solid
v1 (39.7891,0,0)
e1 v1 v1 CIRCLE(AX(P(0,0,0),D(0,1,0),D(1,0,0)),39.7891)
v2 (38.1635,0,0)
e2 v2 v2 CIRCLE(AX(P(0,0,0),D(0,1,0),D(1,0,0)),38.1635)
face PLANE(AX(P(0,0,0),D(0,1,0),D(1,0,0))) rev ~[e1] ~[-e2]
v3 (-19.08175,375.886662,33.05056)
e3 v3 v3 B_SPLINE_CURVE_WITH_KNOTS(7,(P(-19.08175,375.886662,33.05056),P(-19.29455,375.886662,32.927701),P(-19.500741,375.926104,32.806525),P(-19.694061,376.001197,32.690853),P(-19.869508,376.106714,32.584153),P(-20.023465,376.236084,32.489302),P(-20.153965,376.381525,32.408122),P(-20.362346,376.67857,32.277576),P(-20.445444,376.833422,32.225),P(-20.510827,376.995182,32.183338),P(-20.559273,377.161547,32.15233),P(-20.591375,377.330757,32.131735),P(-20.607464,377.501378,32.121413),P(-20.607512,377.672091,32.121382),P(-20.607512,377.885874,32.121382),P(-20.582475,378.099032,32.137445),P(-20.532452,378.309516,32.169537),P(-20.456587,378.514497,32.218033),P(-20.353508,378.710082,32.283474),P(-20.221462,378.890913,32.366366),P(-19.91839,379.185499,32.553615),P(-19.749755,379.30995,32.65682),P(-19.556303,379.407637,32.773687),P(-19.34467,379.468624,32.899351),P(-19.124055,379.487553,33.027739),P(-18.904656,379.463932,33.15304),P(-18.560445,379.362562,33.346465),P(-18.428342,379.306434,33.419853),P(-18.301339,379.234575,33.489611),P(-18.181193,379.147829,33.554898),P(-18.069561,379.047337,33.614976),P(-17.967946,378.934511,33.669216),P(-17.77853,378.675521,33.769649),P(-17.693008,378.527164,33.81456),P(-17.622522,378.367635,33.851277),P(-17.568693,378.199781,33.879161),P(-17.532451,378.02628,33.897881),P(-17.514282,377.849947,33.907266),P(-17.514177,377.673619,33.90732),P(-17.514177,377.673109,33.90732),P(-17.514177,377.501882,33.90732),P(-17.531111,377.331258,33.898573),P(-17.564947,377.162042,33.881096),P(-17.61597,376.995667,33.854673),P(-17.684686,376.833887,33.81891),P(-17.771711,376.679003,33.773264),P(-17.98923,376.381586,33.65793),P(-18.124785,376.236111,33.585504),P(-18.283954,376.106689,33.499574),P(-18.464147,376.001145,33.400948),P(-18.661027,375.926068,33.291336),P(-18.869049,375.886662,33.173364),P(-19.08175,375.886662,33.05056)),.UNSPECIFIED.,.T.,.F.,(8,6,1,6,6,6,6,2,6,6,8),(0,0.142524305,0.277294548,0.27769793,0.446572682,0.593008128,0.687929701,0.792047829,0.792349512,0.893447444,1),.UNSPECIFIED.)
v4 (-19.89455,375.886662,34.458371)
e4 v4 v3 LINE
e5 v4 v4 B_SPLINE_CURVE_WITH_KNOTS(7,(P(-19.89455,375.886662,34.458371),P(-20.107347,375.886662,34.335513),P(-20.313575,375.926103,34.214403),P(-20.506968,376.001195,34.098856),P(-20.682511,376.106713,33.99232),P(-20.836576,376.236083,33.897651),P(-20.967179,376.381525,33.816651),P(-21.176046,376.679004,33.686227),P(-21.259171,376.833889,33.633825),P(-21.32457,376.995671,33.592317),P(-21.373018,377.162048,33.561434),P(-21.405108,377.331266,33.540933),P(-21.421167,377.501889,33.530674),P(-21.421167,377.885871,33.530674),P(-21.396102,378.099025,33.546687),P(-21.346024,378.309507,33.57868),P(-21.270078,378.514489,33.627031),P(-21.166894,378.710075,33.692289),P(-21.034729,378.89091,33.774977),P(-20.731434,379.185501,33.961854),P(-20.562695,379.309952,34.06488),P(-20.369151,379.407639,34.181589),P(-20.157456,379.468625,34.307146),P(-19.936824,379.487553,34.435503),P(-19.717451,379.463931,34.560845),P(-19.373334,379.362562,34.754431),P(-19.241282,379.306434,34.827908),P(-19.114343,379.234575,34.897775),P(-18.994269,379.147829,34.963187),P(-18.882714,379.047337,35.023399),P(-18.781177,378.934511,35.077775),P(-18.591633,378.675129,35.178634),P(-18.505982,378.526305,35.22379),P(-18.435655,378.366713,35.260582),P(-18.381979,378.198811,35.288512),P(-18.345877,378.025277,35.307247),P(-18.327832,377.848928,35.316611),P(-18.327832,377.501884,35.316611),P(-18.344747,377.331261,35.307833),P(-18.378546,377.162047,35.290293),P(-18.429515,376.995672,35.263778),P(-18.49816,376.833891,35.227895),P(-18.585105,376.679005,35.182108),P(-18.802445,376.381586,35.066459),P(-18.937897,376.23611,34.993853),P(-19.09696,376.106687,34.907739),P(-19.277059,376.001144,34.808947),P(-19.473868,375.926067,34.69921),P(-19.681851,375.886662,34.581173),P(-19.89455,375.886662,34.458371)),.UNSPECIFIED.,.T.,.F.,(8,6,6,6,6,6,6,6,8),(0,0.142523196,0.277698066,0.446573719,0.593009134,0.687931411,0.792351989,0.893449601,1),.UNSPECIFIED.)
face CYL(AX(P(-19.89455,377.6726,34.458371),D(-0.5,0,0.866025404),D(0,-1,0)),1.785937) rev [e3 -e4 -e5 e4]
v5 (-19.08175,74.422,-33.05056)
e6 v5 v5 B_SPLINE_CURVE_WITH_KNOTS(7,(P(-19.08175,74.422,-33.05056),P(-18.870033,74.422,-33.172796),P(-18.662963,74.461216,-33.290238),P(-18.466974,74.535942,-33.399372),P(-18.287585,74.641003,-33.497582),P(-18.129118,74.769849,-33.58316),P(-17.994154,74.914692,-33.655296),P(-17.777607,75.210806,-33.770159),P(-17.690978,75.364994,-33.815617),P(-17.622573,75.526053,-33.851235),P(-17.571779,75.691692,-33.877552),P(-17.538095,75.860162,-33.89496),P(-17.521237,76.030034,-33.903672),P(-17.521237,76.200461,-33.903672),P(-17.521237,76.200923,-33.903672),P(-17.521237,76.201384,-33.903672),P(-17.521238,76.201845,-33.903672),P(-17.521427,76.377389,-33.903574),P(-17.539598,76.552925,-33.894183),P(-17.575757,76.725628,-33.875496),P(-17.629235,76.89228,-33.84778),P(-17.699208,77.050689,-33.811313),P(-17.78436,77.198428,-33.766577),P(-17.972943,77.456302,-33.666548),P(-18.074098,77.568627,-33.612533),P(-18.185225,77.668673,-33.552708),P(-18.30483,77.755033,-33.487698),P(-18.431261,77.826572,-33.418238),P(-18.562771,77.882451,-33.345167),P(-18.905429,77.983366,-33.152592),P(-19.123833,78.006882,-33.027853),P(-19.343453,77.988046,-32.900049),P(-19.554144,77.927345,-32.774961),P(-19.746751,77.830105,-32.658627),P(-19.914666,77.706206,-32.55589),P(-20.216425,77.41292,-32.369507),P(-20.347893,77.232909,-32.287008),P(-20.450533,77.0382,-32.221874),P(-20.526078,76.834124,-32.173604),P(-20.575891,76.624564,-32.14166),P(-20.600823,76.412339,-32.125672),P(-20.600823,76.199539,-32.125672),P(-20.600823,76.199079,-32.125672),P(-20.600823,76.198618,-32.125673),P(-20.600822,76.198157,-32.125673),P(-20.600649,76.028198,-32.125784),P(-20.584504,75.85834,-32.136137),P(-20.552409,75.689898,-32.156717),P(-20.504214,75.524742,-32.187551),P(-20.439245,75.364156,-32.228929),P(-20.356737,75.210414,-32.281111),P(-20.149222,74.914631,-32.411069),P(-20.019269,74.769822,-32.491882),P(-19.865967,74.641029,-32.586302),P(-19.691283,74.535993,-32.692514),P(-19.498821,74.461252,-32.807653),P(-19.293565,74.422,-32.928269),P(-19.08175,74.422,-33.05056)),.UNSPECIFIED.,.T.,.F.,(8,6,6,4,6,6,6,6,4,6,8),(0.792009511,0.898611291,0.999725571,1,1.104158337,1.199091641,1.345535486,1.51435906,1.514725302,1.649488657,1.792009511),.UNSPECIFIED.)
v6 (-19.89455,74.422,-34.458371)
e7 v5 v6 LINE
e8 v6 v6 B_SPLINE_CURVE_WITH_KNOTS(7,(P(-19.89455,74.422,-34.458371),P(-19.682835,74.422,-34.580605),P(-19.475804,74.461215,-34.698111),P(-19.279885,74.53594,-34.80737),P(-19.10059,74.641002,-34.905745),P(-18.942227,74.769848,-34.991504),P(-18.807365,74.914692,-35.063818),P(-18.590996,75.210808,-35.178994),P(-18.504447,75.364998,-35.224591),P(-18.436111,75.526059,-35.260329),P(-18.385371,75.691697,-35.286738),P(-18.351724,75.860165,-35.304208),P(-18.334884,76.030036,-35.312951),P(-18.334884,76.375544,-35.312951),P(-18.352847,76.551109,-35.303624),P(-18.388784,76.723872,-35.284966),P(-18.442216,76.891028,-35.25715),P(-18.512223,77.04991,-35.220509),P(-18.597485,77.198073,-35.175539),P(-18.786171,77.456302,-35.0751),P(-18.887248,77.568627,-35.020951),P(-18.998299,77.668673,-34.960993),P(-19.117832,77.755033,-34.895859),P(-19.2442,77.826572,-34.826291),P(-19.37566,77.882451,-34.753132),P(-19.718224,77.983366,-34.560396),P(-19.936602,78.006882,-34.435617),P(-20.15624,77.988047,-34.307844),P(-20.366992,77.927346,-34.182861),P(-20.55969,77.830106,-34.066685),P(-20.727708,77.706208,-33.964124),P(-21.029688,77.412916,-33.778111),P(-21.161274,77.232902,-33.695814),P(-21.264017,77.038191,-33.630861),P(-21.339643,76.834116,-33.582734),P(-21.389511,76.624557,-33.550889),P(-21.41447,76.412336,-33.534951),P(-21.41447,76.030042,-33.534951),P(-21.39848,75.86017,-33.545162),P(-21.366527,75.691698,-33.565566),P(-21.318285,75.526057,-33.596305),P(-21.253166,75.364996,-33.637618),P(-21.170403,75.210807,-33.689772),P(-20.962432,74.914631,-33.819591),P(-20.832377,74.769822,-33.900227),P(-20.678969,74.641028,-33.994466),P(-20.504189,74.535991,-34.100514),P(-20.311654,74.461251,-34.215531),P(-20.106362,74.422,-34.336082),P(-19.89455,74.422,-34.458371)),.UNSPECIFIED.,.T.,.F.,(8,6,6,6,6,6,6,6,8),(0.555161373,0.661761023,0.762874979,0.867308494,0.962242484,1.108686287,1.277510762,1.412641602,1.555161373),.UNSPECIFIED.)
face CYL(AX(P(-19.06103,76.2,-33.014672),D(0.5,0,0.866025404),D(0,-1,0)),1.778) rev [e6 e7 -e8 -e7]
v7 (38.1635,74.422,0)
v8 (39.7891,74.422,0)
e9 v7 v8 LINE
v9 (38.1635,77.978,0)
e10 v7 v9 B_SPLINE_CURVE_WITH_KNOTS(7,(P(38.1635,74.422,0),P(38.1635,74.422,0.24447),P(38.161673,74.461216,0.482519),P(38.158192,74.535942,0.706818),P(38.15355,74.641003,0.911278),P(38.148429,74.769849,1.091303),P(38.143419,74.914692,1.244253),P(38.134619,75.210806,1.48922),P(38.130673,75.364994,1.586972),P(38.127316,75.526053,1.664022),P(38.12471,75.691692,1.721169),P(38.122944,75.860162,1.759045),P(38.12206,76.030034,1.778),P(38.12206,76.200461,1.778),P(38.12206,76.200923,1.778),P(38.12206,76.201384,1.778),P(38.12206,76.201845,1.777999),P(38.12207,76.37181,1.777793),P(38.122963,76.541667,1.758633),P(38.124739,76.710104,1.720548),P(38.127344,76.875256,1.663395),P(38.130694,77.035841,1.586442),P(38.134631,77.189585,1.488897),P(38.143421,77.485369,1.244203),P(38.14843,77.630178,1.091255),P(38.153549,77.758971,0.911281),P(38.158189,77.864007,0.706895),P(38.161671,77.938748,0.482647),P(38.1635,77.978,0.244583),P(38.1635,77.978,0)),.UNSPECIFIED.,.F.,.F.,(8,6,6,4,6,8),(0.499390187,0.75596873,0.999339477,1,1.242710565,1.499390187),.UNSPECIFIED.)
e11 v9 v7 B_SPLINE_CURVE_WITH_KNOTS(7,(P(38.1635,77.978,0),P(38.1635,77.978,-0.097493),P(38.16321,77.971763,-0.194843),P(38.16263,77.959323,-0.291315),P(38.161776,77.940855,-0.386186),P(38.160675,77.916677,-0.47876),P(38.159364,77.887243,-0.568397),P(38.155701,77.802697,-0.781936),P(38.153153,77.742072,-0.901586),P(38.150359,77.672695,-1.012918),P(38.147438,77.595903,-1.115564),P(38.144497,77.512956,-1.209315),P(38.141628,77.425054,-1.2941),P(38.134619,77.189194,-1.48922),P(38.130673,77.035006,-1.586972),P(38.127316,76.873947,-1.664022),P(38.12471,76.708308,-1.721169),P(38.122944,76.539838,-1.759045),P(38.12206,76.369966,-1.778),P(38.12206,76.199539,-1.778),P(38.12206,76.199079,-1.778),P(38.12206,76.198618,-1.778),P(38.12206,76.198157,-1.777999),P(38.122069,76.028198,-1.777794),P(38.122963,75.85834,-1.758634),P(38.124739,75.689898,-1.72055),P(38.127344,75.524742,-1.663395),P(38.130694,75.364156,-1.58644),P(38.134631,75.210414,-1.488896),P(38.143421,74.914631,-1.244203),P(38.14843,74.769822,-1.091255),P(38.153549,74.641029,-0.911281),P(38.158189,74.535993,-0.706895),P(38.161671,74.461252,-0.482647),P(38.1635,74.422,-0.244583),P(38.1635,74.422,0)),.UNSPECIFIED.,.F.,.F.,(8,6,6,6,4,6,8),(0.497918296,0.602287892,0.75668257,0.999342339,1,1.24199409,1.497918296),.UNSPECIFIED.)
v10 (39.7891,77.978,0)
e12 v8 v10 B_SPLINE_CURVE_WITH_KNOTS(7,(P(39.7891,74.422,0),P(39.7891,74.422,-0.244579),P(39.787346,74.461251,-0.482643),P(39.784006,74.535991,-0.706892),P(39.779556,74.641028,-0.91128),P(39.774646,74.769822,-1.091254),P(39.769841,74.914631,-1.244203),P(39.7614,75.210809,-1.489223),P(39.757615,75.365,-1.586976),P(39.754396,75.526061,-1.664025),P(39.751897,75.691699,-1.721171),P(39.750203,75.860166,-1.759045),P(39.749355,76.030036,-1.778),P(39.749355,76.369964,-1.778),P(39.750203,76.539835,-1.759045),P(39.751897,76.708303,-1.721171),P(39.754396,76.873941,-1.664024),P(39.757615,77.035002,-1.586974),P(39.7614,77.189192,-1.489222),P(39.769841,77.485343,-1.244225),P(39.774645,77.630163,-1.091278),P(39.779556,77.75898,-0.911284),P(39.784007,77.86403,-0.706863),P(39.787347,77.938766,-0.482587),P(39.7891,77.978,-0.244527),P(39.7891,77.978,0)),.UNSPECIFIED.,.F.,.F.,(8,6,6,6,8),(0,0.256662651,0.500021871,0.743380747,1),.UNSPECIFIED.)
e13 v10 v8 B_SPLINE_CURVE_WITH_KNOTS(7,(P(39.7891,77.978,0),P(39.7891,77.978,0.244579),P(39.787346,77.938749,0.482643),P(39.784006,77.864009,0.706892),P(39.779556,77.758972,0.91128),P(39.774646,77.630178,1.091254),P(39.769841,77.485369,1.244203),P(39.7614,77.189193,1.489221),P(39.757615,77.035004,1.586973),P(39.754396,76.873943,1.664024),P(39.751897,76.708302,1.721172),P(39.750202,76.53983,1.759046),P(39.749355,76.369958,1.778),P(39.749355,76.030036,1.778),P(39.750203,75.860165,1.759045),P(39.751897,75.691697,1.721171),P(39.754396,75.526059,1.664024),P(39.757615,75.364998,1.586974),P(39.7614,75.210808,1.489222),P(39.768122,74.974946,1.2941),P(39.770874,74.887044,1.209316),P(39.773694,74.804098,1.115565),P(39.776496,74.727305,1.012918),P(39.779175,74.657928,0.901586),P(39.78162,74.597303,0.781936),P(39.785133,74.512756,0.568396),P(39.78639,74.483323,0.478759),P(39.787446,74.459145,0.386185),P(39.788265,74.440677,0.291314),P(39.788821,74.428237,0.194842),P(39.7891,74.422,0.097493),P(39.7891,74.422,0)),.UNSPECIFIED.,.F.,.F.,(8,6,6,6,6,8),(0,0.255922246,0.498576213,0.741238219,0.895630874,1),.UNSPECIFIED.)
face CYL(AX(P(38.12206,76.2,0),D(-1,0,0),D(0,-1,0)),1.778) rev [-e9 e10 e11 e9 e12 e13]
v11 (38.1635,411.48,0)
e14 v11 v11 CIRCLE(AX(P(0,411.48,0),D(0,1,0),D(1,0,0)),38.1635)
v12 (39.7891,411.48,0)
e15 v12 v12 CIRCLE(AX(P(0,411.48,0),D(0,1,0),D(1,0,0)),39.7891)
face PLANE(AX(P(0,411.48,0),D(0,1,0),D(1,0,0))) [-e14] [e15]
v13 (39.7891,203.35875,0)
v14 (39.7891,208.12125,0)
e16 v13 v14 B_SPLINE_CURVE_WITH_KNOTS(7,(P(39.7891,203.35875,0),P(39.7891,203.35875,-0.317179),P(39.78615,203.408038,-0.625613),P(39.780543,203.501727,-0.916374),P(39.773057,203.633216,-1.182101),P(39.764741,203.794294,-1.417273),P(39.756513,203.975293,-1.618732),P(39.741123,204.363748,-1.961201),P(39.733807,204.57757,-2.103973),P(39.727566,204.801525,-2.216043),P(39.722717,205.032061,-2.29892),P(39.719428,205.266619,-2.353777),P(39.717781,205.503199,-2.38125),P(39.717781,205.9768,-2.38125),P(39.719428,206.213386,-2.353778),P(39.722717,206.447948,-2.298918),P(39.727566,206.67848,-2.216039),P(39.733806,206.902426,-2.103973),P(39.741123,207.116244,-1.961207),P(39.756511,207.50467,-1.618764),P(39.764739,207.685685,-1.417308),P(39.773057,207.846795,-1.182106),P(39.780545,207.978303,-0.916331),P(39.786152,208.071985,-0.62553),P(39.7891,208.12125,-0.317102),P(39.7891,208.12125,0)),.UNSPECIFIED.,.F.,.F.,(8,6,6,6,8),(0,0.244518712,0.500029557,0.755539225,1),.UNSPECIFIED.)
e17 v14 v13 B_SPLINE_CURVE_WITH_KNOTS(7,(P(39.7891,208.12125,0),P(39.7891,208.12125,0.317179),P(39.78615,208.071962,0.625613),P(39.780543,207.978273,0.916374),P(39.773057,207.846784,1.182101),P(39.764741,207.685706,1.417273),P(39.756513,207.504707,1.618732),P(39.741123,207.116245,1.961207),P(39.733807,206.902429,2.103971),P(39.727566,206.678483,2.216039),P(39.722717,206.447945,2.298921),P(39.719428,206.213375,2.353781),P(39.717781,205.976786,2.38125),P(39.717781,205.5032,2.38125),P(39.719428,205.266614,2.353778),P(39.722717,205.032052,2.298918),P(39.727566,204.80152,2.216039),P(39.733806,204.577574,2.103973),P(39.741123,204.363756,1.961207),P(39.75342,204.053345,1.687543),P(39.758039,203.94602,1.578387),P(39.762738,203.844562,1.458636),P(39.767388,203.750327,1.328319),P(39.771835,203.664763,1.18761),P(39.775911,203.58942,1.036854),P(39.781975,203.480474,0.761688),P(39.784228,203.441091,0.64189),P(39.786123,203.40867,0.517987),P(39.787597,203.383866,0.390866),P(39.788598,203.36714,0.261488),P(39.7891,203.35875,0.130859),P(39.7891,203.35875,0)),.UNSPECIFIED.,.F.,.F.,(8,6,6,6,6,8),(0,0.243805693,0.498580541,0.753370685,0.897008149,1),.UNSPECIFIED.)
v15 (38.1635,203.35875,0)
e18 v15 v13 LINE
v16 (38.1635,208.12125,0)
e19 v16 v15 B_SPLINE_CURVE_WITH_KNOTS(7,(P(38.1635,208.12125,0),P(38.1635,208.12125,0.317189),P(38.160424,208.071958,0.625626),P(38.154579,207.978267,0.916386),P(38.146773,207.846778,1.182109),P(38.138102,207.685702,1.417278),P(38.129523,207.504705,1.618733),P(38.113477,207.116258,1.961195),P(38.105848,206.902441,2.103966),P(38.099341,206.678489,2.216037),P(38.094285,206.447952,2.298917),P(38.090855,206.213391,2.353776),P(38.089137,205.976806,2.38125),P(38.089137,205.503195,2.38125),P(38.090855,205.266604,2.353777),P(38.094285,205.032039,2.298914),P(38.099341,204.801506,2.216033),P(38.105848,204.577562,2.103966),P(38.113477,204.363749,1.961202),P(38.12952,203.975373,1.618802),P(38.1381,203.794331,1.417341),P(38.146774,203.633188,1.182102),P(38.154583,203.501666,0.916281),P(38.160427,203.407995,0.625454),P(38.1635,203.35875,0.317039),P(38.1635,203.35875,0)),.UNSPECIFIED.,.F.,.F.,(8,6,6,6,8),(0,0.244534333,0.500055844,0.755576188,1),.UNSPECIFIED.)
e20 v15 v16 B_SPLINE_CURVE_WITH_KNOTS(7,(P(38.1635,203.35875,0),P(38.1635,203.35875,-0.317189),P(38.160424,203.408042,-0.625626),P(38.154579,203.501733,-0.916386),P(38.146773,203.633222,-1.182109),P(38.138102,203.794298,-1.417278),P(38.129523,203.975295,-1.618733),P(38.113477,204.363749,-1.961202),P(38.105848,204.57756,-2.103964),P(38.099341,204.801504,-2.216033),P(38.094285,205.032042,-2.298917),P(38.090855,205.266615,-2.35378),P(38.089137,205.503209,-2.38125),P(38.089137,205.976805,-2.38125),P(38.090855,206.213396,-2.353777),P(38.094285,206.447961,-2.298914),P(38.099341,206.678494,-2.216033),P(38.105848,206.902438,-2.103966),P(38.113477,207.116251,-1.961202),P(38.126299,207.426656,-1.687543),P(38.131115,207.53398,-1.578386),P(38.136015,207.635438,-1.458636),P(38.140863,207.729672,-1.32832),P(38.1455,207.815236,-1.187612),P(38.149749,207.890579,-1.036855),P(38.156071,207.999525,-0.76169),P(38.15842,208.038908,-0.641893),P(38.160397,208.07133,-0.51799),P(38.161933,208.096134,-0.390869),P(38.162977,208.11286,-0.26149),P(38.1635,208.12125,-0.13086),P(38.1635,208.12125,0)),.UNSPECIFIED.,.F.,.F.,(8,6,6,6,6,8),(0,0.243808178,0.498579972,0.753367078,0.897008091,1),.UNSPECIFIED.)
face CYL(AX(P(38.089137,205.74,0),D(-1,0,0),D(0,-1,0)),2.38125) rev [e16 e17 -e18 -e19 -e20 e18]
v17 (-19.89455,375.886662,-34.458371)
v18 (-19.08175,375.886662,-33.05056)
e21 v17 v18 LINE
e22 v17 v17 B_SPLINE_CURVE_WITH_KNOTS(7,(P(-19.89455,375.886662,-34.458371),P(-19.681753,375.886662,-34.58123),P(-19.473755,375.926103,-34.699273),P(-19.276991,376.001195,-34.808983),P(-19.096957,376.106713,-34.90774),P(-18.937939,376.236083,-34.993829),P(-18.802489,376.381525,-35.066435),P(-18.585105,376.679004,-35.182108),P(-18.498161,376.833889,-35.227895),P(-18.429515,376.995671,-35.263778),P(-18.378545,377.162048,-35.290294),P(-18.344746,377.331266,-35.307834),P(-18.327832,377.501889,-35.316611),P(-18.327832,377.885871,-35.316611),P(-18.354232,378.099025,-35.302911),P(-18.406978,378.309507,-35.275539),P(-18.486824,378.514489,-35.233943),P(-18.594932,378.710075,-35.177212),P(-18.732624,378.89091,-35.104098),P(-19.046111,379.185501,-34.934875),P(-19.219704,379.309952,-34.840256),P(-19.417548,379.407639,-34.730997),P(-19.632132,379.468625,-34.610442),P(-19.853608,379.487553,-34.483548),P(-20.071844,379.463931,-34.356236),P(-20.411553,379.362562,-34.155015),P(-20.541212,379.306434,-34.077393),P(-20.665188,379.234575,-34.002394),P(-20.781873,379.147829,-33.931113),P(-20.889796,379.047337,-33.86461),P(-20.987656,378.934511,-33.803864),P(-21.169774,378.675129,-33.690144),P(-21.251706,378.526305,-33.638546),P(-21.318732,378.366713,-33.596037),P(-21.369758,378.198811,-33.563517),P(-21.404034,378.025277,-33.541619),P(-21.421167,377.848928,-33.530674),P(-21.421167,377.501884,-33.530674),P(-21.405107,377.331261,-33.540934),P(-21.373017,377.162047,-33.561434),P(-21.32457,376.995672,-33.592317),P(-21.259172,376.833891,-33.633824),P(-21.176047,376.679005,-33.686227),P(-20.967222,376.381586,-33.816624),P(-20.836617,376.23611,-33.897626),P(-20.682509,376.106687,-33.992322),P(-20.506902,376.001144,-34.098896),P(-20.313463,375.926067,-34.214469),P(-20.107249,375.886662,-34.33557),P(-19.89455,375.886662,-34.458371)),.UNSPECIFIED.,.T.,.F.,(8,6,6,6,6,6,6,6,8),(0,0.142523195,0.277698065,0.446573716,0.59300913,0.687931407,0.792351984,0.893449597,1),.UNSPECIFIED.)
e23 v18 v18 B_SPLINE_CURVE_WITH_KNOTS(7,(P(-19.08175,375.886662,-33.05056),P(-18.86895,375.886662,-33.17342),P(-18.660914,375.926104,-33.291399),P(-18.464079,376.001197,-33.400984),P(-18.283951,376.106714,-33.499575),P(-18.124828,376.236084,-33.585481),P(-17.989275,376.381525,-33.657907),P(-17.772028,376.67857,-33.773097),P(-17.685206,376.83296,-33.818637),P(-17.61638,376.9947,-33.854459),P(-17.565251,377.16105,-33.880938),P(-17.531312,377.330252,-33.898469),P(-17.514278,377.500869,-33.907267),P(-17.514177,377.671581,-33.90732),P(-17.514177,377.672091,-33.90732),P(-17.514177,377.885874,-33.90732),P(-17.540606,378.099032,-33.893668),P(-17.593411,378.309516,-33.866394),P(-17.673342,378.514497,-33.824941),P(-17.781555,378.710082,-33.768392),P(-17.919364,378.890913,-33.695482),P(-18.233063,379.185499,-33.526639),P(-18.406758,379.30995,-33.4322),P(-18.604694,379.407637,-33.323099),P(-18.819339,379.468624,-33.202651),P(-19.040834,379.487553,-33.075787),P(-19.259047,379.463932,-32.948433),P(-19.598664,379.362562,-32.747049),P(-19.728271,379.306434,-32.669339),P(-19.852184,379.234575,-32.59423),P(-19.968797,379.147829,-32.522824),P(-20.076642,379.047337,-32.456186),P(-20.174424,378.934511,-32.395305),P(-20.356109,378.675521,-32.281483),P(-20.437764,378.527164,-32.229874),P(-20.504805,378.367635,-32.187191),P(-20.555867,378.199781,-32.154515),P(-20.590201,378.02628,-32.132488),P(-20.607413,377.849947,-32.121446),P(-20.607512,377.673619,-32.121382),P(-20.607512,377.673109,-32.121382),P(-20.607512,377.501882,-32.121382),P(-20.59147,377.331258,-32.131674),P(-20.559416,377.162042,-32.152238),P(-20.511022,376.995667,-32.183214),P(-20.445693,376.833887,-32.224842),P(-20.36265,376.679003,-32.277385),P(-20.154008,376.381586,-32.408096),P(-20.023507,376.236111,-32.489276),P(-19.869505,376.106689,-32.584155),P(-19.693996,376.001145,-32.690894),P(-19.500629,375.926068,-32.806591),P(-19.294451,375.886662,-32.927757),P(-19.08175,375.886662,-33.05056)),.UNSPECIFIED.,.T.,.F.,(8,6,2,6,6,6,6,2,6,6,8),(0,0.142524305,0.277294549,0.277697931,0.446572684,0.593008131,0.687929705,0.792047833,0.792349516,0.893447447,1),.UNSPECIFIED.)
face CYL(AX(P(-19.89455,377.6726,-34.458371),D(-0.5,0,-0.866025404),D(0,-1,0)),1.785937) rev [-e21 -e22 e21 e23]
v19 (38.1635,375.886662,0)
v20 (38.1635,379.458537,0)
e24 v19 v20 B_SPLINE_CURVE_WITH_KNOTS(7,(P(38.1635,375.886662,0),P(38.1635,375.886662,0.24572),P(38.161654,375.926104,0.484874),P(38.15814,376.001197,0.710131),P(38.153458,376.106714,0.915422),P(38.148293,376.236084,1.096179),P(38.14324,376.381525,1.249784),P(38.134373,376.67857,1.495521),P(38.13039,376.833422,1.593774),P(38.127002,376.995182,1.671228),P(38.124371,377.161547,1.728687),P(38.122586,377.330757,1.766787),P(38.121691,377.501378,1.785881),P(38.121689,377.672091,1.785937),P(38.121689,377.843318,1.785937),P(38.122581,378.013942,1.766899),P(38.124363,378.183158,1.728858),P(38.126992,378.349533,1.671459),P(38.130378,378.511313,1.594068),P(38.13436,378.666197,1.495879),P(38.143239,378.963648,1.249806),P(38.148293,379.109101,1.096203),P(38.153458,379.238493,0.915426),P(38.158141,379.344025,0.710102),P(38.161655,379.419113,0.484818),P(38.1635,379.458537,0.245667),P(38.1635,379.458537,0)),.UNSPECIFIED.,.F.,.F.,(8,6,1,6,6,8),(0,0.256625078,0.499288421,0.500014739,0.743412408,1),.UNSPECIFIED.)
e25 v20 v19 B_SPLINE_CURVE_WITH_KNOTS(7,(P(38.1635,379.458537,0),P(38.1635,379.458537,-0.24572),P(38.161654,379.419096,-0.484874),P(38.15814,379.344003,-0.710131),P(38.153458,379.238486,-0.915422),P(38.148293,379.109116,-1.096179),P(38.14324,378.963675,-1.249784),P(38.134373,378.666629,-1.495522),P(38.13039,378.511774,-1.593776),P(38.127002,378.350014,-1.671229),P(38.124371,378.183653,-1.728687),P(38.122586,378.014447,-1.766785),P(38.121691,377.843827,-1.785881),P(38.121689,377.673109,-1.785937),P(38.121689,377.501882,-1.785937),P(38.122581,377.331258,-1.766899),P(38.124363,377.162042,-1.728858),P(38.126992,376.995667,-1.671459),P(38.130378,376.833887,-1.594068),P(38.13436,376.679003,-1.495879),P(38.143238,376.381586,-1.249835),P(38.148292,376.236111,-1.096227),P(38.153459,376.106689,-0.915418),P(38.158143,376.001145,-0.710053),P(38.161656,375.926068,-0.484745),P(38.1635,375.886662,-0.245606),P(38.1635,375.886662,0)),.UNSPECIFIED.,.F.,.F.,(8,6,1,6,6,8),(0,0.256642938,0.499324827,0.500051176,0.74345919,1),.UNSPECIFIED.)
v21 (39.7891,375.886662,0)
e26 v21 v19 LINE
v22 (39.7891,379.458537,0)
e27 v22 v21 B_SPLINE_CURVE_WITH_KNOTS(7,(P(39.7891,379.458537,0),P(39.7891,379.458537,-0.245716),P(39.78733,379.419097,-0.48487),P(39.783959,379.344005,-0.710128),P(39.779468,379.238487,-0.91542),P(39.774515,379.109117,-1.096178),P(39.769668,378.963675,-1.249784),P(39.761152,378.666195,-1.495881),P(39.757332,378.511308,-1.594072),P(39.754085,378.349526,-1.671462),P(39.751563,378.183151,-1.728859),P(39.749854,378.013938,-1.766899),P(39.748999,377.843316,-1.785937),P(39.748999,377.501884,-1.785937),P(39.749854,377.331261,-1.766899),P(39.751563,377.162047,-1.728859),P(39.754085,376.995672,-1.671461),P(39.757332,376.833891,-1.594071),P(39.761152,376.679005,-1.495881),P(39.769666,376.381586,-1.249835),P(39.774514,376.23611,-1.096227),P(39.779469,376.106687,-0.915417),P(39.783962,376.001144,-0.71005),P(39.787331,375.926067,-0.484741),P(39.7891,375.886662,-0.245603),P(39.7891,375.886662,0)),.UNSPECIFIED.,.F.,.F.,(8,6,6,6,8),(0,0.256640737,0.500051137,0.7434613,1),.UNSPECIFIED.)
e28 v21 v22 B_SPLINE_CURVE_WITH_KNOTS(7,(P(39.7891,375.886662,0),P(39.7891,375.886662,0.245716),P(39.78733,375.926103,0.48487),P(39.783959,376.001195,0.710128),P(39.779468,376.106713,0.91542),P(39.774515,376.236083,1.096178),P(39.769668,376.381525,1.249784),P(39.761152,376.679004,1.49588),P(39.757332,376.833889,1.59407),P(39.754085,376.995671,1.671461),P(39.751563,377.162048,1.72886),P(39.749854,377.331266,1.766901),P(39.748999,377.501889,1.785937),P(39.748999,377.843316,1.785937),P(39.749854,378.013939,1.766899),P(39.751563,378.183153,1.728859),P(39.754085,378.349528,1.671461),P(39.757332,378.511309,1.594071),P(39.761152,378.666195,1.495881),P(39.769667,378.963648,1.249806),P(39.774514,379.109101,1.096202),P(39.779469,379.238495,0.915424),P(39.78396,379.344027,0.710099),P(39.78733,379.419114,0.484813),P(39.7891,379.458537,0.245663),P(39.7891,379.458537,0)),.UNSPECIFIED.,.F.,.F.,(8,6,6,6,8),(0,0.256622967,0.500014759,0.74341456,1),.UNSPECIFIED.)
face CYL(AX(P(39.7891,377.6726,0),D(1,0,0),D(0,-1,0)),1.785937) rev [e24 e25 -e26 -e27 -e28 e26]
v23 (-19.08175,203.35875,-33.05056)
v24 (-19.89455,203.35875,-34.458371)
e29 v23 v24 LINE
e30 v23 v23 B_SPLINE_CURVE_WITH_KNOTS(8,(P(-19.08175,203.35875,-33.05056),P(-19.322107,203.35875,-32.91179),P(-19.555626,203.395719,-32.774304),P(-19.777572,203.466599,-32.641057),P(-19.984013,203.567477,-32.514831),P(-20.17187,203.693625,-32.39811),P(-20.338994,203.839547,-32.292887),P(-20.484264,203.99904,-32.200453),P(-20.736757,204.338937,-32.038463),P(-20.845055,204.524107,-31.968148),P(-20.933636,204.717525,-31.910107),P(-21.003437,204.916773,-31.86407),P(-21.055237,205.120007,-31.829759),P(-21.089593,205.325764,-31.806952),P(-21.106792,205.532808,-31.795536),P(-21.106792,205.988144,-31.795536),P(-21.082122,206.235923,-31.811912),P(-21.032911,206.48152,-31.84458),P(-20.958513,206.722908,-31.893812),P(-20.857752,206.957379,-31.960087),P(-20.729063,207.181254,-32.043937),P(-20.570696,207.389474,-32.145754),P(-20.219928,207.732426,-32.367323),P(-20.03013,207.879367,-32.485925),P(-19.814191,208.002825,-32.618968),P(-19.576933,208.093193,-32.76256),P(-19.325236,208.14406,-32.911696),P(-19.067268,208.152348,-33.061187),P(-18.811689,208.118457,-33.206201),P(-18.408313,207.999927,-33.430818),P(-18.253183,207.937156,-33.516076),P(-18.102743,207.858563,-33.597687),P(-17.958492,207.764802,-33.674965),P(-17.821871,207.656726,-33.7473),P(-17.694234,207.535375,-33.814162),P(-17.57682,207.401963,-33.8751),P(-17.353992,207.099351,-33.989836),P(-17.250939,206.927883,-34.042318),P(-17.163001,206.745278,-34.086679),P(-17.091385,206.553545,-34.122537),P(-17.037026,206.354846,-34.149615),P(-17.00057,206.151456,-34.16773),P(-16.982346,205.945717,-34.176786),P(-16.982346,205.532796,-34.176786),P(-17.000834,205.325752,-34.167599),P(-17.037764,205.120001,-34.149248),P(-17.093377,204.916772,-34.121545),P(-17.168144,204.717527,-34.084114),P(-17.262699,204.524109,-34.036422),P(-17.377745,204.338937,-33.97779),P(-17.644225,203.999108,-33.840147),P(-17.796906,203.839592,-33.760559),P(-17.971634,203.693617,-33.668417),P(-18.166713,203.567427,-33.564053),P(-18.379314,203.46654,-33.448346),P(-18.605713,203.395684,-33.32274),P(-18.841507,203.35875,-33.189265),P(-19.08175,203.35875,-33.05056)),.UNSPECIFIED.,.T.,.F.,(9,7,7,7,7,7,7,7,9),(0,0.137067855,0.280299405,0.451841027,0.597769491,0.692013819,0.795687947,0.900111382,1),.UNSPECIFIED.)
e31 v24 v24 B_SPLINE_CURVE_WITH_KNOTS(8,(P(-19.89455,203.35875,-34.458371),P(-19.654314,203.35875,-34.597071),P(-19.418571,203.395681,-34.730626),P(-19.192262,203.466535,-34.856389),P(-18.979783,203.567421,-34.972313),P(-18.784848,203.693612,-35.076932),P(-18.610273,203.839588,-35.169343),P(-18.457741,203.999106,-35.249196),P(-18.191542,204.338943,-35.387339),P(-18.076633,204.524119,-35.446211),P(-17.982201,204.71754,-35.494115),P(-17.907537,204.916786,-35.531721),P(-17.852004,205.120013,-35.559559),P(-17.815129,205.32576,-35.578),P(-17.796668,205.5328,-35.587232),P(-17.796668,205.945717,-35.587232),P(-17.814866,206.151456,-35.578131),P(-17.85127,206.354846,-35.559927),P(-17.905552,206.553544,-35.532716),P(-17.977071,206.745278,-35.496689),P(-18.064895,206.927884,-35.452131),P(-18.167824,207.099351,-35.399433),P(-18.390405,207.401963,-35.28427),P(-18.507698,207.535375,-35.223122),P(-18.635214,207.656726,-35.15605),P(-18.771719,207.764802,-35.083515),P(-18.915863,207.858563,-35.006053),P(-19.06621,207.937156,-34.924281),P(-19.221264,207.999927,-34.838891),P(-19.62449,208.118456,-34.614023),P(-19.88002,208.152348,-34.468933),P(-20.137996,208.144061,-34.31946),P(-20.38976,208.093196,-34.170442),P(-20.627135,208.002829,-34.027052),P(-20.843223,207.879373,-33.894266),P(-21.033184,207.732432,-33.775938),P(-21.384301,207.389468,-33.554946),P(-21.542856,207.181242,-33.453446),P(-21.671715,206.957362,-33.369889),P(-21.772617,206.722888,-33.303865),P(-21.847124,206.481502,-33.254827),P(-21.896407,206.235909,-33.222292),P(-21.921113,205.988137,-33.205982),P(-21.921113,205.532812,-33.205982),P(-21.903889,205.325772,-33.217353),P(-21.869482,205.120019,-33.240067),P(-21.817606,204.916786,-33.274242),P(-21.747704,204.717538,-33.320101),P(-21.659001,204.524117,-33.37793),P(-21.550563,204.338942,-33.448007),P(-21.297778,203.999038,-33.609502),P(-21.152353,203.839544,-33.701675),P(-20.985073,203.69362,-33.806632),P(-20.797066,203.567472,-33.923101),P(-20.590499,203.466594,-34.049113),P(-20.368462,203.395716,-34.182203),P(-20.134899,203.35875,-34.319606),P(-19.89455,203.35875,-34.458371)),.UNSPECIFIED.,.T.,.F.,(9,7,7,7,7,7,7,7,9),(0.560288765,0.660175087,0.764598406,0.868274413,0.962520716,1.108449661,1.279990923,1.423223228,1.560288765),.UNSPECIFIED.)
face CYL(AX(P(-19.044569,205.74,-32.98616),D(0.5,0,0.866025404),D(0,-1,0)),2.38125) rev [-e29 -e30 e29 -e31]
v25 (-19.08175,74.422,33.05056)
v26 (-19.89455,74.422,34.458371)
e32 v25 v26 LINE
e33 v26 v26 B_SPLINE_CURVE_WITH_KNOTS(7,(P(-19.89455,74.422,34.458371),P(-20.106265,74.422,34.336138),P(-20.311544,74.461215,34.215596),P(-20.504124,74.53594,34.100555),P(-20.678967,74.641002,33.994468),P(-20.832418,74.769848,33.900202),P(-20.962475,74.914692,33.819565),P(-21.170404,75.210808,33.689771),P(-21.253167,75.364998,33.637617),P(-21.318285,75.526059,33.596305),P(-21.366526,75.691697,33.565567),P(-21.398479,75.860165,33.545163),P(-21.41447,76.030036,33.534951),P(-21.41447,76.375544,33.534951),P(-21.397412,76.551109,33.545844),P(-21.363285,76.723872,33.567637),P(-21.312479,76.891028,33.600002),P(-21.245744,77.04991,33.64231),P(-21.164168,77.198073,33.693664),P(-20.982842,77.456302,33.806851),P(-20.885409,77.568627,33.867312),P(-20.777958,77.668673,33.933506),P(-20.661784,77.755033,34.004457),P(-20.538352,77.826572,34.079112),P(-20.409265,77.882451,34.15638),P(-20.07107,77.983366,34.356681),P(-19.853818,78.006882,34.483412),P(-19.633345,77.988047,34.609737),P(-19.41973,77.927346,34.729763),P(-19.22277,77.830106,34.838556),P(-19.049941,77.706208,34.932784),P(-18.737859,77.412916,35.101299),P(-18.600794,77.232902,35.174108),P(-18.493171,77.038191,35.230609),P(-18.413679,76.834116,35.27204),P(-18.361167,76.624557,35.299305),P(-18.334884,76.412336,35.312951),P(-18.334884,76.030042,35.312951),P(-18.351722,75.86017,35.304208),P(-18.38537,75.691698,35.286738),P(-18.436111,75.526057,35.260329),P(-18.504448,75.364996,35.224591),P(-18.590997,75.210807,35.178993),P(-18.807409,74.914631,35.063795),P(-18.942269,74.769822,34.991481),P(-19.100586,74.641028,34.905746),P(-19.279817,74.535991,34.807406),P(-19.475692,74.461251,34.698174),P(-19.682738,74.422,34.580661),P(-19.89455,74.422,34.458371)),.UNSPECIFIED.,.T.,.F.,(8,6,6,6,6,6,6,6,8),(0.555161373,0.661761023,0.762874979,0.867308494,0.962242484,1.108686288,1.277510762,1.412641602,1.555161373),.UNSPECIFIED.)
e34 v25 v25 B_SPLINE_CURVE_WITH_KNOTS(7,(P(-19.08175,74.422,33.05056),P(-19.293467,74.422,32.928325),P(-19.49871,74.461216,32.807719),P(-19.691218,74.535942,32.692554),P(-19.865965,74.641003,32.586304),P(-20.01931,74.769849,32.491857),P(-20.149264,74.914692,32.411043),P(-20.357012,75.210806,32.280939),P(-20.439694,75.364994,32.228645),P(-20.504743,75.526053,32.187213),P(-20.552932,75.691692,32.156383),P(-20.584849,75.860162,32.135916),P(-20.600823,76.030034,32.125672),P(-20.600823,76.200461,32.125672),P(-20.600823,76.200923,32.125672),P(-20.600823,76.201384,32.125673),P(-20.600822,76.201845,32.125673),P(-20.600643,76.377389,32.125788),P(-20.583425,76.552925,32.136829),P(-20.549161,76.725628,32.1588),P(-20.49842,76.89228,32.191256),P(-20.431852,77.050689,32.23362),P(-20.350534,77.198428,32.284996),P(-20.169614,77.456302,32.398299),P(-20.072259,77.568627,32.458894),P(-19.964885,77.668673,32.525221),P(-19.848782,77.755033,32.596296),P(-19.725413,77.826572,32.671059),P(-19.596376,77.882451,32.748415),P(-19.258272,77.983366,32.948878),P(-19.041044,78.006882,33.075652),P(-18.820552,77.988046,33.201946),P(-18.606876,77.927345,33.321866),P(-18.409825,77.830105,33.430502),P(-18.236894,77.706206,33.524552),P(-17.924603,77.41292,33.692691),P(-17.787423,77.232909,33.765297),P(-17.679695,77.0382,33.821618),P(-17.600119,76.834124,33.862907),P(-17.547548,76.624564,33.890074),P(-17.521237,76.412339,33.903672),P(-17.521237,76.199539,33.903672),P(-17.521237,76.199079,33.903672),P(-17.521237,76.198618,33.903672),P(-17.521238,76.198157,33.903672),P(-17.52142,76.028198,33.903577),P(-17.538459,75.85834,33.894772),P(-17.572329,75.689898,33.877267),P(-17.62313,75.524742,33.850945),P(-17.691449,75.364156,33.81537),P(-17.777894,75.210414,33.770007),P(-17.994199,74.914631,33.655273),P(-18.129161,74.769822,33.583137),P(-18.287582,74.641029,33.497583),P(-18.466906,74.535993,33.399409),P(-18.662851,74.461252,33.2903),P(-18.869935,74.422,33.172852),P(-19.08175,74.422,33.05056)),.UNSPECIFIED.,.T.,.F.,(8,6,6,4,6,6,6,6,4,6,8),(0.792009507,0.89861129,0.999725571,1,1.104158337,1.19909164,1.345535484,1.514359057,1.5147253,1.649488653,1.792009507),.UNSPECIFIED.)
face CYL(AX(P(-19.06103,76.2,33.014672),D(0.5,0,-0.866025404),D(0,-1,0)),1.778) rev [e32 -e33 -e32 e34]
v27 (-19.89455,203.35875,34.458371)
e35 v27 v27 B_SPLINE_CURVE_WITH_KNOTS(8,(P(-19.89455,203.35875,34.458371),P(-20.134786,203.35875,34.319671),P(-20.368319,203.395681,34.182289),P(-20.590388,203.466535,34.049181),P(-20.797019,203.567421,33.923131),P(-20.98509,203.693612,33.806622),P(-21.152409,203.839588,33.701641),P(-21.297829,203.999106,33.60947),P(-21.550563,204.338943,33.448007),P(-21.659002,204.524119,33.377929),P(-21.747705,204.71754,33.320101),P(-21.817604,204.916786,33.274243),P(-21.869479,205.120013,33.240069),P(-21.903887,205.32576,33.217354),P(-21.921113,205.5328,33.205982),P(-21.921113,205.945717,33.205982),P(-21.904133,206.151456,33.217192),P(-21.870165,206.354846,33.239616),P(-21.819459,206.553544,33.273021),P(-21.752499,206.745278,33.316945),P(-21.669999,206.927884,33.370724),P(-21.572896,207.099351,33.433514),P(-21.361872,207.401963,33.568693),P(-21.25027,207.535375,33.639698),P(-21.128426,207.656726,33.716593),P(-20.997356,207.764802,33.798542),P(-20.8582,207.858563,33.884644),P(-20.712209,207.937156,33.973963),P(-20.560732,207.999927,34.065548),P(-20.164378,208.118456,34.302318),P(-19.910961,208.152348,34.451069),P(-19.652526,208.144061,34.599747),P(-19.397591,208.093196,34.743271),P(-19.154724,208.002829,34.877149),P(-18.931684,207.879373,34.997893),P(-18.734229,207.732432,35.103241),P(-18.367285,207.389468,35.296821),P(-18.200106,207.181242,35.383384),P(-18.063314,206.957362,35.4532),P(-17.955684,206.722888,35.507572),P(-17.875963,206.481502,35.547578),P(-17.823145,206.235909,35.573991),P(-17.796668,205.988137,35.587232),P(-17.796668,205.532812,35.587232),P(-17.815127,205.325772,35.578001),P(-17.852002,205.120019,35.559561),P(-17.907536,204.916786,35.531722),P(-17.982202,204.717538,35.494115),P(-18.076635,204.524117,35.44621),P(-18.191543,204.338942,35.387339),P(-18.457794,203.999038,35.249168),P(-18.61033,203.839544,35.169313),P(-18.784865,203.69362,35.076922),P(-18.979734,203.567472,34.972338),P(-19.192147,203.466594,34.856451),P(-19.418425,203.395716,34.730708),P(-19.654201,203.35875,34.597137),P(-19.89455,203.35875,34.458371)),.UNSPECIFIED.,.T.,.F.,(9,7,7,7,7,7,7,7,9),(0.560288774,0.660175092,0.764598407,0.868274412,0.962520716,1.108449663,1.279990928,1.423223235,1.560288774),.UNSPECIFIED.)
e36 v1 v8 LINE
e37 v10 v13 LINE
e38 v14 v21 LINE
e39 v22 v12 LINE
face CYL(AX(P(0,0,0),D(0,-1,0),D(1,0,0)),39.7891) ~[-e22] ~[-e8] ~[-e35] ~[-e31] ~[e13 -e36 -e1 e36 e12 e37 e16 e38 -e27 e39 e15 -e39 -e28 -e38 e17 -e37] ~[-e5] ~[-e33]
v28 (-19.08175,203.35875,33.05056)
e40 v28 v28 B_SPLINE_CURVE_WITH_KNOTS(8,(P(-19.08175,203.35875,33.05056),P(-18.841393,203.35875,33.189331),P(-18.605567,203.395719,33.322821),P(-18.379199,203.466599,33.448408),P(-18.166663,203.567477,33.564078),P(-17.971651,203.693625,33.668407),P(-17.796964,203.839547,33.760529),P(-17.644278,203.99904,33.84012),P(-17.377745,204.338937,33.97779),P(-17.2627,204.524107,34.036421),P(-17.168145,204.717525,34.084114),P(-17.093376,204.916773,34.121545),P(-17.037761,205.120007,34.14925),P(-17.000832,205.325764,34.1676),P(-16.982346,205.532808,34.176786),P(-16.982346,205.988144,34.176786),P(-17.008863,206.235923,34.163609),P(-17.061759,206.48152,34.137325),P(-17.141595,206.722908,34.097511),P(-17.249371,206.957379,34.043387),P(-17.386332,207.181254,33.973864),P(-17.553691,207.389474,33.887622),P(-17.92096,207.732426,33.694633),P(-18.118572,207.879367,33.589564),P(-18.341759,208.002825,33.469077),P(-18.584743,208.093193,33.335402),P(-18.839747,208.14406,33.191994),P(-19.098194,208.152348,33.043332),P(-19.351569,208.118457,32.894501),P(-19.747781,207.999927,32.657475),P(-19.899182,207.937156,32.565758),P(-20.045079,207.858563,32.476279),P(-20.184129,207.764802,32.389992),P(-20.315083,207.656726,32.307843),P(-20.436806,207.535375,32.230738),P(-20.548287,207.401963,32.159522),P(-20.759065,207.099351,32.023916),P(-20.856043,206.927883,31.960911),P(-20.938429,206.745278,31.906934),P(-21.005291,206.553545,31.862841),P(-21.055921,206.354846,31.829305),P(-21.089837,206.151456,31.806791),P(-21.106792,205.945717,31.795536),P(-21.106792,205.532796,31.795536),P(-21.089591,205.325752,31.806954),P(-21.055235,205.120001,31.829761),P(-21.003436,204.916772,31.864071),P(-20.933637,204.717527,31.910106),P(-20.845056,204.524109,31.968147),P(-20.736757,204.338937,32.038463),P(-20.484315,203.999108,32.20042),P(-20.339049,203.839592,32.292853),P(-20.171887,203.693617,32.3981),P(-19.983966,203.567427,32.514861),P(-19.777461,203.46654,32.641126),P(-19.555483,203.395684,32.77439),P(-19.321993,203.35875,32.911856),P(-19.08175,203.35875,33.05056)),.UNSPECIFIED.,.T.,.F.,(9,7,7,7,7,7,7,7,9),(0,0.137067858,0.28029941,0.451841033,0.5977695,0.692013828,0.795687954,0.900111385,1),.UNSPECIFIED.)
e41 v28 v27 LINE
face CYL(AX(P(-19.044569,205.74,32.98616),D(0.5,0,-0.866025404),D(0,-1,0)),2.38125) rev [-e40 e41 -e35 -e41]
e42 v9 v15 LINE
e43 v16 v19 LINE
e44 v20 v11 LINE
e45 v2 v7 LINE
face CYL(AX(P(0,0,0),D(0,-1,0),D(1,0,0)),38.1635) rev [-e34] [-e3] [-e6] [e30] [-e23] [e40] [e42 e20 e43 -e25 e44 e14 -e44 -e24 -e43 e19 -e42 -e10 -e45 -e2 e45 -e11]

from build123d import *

# Parameters (mm, degrees)
SKETCH1_R                        = 39.7891
SKETCH1_R_2                      = 38.1635
BOSS_EXTRUDE1_DEPTH              = 411.48
CUT_EXTRUDE1_START               = -1.66704
SKETCH2_R                        = 1.778
CUT_EXTRUDE1_DEPTH               = 1.66704
CIRPATTERN1_COUNT                = 3
PRESSURE_START                   = -1.699963
SKETCH3_R                        = 2.38125
PRESSURE_EQUALIZATION_HOLE_DEPTH = 1.699963
CIRPATTERN2_COUNT                = 3
SKETCH4_R                        = 1.7859375
CUT_EXTRUDE3_DEPTH               = 1.667411
CIRPATTERN3_COUNT                = 3


with BuildPart() as part:
    # Sketch1 → Boss-Extrude1 (new body)
    with BuildSketch(Plane(origin=(0, 0, 0), x_dir=(1, 0, 0), z_dir=(0, 1, 0))):
        Circle(SKETCH1_R)
        Circle(SKETCH1_R_2, mode=Mode.SUBTRACT)
    extrude(amount=BOSS_EXTRUDE1_DEPTH)

    # Sketch2 → Cut-Extrude1 (cut)
    with BuildSketch(Plane(origin=(-19.89455, 0, 34.458371394), x_dir=(0, -1, 0), z_dir=(-0.5, 0, 0.866025404)).offset(CUT_EXTRUDE1_START)):
        with Locations((-76.2, 0)):
            Circle(SKETCH2_R)
    cut_extrude1 = extrude(amount=CUT_EXTRUDE1_DEPTH, mode=Mode.SUBTRACT)

    # CirPattern1: Cut-Extrude1 ×3 about axis
    cirpattern1_axis = Axis((0, -7.62, 0), (0, 1, 0))
    for i in range(1, CIRPATTERN1_COUNT):
        add(cut_extrude1.rotate(cirpattern1_axis, i * 360 / CIRPATTERN1_COUNT), mode=Mode.SUBTRACT)

    # Sketch3 → Pressure Equalization Hole (cut)
    with BuildSketch(Plane(origin=(-19.89455, 0, 34.458371394), x_dir=(0, -1, 0), z_dir=(-0.5, 0, 0.866025404)).offset(PRESSURE_START)):
        with Locations((-205.74, 0)):
            Circle(SKETCH3_R)
    pressure_equalization_hole = extrude(amount=PRESSURE_EQUALIZATION_HOLE_DEPTH, mode=Mode.SUBTRACT)

    # CirPattern2: Pressure Equalization Hole ×3 about axis
    cirpattern2_axis = Axis((0, -7.62, 0), (0, 1, 0))
    for i in range(1, CIRPATTERN2_COUNT):
        add(pressure_equalization_hole.rotate(cirpattern2_axis, i * 360 / CIRPATTERN2_COUNT), mode=Mode.SUBTRACT)

    # Sketch4 → Cut-Extrude3 (cut)
    with BuildSketch(Plane(origin=(39.7891, 0, 0), x_dir=(0, -1, 0), z_dir=(-1, 0, 0))):
        with Locations((-377.6726, 0)):
            Circle(SKETCH4_R)
    cut_extrude3 = extrude(amount=CUT_EXTRUDE3_DEPTH, mode=Mode.SUBTRACT)

    # CirPattern3: Cut-Extrude3 ×3 about axis
    cirpattern3_axis = Axis((0, -7.62, 0), (0, 1, 0))
    for i in range(1, CIRPATTERN3_COUNT):
        add(cut_extrude3.rotate(cirpattern3_axis, i * 360 / CIRPATTERN3_COUNT), mode=Mode.SUBTRACT)


solid = part.part
